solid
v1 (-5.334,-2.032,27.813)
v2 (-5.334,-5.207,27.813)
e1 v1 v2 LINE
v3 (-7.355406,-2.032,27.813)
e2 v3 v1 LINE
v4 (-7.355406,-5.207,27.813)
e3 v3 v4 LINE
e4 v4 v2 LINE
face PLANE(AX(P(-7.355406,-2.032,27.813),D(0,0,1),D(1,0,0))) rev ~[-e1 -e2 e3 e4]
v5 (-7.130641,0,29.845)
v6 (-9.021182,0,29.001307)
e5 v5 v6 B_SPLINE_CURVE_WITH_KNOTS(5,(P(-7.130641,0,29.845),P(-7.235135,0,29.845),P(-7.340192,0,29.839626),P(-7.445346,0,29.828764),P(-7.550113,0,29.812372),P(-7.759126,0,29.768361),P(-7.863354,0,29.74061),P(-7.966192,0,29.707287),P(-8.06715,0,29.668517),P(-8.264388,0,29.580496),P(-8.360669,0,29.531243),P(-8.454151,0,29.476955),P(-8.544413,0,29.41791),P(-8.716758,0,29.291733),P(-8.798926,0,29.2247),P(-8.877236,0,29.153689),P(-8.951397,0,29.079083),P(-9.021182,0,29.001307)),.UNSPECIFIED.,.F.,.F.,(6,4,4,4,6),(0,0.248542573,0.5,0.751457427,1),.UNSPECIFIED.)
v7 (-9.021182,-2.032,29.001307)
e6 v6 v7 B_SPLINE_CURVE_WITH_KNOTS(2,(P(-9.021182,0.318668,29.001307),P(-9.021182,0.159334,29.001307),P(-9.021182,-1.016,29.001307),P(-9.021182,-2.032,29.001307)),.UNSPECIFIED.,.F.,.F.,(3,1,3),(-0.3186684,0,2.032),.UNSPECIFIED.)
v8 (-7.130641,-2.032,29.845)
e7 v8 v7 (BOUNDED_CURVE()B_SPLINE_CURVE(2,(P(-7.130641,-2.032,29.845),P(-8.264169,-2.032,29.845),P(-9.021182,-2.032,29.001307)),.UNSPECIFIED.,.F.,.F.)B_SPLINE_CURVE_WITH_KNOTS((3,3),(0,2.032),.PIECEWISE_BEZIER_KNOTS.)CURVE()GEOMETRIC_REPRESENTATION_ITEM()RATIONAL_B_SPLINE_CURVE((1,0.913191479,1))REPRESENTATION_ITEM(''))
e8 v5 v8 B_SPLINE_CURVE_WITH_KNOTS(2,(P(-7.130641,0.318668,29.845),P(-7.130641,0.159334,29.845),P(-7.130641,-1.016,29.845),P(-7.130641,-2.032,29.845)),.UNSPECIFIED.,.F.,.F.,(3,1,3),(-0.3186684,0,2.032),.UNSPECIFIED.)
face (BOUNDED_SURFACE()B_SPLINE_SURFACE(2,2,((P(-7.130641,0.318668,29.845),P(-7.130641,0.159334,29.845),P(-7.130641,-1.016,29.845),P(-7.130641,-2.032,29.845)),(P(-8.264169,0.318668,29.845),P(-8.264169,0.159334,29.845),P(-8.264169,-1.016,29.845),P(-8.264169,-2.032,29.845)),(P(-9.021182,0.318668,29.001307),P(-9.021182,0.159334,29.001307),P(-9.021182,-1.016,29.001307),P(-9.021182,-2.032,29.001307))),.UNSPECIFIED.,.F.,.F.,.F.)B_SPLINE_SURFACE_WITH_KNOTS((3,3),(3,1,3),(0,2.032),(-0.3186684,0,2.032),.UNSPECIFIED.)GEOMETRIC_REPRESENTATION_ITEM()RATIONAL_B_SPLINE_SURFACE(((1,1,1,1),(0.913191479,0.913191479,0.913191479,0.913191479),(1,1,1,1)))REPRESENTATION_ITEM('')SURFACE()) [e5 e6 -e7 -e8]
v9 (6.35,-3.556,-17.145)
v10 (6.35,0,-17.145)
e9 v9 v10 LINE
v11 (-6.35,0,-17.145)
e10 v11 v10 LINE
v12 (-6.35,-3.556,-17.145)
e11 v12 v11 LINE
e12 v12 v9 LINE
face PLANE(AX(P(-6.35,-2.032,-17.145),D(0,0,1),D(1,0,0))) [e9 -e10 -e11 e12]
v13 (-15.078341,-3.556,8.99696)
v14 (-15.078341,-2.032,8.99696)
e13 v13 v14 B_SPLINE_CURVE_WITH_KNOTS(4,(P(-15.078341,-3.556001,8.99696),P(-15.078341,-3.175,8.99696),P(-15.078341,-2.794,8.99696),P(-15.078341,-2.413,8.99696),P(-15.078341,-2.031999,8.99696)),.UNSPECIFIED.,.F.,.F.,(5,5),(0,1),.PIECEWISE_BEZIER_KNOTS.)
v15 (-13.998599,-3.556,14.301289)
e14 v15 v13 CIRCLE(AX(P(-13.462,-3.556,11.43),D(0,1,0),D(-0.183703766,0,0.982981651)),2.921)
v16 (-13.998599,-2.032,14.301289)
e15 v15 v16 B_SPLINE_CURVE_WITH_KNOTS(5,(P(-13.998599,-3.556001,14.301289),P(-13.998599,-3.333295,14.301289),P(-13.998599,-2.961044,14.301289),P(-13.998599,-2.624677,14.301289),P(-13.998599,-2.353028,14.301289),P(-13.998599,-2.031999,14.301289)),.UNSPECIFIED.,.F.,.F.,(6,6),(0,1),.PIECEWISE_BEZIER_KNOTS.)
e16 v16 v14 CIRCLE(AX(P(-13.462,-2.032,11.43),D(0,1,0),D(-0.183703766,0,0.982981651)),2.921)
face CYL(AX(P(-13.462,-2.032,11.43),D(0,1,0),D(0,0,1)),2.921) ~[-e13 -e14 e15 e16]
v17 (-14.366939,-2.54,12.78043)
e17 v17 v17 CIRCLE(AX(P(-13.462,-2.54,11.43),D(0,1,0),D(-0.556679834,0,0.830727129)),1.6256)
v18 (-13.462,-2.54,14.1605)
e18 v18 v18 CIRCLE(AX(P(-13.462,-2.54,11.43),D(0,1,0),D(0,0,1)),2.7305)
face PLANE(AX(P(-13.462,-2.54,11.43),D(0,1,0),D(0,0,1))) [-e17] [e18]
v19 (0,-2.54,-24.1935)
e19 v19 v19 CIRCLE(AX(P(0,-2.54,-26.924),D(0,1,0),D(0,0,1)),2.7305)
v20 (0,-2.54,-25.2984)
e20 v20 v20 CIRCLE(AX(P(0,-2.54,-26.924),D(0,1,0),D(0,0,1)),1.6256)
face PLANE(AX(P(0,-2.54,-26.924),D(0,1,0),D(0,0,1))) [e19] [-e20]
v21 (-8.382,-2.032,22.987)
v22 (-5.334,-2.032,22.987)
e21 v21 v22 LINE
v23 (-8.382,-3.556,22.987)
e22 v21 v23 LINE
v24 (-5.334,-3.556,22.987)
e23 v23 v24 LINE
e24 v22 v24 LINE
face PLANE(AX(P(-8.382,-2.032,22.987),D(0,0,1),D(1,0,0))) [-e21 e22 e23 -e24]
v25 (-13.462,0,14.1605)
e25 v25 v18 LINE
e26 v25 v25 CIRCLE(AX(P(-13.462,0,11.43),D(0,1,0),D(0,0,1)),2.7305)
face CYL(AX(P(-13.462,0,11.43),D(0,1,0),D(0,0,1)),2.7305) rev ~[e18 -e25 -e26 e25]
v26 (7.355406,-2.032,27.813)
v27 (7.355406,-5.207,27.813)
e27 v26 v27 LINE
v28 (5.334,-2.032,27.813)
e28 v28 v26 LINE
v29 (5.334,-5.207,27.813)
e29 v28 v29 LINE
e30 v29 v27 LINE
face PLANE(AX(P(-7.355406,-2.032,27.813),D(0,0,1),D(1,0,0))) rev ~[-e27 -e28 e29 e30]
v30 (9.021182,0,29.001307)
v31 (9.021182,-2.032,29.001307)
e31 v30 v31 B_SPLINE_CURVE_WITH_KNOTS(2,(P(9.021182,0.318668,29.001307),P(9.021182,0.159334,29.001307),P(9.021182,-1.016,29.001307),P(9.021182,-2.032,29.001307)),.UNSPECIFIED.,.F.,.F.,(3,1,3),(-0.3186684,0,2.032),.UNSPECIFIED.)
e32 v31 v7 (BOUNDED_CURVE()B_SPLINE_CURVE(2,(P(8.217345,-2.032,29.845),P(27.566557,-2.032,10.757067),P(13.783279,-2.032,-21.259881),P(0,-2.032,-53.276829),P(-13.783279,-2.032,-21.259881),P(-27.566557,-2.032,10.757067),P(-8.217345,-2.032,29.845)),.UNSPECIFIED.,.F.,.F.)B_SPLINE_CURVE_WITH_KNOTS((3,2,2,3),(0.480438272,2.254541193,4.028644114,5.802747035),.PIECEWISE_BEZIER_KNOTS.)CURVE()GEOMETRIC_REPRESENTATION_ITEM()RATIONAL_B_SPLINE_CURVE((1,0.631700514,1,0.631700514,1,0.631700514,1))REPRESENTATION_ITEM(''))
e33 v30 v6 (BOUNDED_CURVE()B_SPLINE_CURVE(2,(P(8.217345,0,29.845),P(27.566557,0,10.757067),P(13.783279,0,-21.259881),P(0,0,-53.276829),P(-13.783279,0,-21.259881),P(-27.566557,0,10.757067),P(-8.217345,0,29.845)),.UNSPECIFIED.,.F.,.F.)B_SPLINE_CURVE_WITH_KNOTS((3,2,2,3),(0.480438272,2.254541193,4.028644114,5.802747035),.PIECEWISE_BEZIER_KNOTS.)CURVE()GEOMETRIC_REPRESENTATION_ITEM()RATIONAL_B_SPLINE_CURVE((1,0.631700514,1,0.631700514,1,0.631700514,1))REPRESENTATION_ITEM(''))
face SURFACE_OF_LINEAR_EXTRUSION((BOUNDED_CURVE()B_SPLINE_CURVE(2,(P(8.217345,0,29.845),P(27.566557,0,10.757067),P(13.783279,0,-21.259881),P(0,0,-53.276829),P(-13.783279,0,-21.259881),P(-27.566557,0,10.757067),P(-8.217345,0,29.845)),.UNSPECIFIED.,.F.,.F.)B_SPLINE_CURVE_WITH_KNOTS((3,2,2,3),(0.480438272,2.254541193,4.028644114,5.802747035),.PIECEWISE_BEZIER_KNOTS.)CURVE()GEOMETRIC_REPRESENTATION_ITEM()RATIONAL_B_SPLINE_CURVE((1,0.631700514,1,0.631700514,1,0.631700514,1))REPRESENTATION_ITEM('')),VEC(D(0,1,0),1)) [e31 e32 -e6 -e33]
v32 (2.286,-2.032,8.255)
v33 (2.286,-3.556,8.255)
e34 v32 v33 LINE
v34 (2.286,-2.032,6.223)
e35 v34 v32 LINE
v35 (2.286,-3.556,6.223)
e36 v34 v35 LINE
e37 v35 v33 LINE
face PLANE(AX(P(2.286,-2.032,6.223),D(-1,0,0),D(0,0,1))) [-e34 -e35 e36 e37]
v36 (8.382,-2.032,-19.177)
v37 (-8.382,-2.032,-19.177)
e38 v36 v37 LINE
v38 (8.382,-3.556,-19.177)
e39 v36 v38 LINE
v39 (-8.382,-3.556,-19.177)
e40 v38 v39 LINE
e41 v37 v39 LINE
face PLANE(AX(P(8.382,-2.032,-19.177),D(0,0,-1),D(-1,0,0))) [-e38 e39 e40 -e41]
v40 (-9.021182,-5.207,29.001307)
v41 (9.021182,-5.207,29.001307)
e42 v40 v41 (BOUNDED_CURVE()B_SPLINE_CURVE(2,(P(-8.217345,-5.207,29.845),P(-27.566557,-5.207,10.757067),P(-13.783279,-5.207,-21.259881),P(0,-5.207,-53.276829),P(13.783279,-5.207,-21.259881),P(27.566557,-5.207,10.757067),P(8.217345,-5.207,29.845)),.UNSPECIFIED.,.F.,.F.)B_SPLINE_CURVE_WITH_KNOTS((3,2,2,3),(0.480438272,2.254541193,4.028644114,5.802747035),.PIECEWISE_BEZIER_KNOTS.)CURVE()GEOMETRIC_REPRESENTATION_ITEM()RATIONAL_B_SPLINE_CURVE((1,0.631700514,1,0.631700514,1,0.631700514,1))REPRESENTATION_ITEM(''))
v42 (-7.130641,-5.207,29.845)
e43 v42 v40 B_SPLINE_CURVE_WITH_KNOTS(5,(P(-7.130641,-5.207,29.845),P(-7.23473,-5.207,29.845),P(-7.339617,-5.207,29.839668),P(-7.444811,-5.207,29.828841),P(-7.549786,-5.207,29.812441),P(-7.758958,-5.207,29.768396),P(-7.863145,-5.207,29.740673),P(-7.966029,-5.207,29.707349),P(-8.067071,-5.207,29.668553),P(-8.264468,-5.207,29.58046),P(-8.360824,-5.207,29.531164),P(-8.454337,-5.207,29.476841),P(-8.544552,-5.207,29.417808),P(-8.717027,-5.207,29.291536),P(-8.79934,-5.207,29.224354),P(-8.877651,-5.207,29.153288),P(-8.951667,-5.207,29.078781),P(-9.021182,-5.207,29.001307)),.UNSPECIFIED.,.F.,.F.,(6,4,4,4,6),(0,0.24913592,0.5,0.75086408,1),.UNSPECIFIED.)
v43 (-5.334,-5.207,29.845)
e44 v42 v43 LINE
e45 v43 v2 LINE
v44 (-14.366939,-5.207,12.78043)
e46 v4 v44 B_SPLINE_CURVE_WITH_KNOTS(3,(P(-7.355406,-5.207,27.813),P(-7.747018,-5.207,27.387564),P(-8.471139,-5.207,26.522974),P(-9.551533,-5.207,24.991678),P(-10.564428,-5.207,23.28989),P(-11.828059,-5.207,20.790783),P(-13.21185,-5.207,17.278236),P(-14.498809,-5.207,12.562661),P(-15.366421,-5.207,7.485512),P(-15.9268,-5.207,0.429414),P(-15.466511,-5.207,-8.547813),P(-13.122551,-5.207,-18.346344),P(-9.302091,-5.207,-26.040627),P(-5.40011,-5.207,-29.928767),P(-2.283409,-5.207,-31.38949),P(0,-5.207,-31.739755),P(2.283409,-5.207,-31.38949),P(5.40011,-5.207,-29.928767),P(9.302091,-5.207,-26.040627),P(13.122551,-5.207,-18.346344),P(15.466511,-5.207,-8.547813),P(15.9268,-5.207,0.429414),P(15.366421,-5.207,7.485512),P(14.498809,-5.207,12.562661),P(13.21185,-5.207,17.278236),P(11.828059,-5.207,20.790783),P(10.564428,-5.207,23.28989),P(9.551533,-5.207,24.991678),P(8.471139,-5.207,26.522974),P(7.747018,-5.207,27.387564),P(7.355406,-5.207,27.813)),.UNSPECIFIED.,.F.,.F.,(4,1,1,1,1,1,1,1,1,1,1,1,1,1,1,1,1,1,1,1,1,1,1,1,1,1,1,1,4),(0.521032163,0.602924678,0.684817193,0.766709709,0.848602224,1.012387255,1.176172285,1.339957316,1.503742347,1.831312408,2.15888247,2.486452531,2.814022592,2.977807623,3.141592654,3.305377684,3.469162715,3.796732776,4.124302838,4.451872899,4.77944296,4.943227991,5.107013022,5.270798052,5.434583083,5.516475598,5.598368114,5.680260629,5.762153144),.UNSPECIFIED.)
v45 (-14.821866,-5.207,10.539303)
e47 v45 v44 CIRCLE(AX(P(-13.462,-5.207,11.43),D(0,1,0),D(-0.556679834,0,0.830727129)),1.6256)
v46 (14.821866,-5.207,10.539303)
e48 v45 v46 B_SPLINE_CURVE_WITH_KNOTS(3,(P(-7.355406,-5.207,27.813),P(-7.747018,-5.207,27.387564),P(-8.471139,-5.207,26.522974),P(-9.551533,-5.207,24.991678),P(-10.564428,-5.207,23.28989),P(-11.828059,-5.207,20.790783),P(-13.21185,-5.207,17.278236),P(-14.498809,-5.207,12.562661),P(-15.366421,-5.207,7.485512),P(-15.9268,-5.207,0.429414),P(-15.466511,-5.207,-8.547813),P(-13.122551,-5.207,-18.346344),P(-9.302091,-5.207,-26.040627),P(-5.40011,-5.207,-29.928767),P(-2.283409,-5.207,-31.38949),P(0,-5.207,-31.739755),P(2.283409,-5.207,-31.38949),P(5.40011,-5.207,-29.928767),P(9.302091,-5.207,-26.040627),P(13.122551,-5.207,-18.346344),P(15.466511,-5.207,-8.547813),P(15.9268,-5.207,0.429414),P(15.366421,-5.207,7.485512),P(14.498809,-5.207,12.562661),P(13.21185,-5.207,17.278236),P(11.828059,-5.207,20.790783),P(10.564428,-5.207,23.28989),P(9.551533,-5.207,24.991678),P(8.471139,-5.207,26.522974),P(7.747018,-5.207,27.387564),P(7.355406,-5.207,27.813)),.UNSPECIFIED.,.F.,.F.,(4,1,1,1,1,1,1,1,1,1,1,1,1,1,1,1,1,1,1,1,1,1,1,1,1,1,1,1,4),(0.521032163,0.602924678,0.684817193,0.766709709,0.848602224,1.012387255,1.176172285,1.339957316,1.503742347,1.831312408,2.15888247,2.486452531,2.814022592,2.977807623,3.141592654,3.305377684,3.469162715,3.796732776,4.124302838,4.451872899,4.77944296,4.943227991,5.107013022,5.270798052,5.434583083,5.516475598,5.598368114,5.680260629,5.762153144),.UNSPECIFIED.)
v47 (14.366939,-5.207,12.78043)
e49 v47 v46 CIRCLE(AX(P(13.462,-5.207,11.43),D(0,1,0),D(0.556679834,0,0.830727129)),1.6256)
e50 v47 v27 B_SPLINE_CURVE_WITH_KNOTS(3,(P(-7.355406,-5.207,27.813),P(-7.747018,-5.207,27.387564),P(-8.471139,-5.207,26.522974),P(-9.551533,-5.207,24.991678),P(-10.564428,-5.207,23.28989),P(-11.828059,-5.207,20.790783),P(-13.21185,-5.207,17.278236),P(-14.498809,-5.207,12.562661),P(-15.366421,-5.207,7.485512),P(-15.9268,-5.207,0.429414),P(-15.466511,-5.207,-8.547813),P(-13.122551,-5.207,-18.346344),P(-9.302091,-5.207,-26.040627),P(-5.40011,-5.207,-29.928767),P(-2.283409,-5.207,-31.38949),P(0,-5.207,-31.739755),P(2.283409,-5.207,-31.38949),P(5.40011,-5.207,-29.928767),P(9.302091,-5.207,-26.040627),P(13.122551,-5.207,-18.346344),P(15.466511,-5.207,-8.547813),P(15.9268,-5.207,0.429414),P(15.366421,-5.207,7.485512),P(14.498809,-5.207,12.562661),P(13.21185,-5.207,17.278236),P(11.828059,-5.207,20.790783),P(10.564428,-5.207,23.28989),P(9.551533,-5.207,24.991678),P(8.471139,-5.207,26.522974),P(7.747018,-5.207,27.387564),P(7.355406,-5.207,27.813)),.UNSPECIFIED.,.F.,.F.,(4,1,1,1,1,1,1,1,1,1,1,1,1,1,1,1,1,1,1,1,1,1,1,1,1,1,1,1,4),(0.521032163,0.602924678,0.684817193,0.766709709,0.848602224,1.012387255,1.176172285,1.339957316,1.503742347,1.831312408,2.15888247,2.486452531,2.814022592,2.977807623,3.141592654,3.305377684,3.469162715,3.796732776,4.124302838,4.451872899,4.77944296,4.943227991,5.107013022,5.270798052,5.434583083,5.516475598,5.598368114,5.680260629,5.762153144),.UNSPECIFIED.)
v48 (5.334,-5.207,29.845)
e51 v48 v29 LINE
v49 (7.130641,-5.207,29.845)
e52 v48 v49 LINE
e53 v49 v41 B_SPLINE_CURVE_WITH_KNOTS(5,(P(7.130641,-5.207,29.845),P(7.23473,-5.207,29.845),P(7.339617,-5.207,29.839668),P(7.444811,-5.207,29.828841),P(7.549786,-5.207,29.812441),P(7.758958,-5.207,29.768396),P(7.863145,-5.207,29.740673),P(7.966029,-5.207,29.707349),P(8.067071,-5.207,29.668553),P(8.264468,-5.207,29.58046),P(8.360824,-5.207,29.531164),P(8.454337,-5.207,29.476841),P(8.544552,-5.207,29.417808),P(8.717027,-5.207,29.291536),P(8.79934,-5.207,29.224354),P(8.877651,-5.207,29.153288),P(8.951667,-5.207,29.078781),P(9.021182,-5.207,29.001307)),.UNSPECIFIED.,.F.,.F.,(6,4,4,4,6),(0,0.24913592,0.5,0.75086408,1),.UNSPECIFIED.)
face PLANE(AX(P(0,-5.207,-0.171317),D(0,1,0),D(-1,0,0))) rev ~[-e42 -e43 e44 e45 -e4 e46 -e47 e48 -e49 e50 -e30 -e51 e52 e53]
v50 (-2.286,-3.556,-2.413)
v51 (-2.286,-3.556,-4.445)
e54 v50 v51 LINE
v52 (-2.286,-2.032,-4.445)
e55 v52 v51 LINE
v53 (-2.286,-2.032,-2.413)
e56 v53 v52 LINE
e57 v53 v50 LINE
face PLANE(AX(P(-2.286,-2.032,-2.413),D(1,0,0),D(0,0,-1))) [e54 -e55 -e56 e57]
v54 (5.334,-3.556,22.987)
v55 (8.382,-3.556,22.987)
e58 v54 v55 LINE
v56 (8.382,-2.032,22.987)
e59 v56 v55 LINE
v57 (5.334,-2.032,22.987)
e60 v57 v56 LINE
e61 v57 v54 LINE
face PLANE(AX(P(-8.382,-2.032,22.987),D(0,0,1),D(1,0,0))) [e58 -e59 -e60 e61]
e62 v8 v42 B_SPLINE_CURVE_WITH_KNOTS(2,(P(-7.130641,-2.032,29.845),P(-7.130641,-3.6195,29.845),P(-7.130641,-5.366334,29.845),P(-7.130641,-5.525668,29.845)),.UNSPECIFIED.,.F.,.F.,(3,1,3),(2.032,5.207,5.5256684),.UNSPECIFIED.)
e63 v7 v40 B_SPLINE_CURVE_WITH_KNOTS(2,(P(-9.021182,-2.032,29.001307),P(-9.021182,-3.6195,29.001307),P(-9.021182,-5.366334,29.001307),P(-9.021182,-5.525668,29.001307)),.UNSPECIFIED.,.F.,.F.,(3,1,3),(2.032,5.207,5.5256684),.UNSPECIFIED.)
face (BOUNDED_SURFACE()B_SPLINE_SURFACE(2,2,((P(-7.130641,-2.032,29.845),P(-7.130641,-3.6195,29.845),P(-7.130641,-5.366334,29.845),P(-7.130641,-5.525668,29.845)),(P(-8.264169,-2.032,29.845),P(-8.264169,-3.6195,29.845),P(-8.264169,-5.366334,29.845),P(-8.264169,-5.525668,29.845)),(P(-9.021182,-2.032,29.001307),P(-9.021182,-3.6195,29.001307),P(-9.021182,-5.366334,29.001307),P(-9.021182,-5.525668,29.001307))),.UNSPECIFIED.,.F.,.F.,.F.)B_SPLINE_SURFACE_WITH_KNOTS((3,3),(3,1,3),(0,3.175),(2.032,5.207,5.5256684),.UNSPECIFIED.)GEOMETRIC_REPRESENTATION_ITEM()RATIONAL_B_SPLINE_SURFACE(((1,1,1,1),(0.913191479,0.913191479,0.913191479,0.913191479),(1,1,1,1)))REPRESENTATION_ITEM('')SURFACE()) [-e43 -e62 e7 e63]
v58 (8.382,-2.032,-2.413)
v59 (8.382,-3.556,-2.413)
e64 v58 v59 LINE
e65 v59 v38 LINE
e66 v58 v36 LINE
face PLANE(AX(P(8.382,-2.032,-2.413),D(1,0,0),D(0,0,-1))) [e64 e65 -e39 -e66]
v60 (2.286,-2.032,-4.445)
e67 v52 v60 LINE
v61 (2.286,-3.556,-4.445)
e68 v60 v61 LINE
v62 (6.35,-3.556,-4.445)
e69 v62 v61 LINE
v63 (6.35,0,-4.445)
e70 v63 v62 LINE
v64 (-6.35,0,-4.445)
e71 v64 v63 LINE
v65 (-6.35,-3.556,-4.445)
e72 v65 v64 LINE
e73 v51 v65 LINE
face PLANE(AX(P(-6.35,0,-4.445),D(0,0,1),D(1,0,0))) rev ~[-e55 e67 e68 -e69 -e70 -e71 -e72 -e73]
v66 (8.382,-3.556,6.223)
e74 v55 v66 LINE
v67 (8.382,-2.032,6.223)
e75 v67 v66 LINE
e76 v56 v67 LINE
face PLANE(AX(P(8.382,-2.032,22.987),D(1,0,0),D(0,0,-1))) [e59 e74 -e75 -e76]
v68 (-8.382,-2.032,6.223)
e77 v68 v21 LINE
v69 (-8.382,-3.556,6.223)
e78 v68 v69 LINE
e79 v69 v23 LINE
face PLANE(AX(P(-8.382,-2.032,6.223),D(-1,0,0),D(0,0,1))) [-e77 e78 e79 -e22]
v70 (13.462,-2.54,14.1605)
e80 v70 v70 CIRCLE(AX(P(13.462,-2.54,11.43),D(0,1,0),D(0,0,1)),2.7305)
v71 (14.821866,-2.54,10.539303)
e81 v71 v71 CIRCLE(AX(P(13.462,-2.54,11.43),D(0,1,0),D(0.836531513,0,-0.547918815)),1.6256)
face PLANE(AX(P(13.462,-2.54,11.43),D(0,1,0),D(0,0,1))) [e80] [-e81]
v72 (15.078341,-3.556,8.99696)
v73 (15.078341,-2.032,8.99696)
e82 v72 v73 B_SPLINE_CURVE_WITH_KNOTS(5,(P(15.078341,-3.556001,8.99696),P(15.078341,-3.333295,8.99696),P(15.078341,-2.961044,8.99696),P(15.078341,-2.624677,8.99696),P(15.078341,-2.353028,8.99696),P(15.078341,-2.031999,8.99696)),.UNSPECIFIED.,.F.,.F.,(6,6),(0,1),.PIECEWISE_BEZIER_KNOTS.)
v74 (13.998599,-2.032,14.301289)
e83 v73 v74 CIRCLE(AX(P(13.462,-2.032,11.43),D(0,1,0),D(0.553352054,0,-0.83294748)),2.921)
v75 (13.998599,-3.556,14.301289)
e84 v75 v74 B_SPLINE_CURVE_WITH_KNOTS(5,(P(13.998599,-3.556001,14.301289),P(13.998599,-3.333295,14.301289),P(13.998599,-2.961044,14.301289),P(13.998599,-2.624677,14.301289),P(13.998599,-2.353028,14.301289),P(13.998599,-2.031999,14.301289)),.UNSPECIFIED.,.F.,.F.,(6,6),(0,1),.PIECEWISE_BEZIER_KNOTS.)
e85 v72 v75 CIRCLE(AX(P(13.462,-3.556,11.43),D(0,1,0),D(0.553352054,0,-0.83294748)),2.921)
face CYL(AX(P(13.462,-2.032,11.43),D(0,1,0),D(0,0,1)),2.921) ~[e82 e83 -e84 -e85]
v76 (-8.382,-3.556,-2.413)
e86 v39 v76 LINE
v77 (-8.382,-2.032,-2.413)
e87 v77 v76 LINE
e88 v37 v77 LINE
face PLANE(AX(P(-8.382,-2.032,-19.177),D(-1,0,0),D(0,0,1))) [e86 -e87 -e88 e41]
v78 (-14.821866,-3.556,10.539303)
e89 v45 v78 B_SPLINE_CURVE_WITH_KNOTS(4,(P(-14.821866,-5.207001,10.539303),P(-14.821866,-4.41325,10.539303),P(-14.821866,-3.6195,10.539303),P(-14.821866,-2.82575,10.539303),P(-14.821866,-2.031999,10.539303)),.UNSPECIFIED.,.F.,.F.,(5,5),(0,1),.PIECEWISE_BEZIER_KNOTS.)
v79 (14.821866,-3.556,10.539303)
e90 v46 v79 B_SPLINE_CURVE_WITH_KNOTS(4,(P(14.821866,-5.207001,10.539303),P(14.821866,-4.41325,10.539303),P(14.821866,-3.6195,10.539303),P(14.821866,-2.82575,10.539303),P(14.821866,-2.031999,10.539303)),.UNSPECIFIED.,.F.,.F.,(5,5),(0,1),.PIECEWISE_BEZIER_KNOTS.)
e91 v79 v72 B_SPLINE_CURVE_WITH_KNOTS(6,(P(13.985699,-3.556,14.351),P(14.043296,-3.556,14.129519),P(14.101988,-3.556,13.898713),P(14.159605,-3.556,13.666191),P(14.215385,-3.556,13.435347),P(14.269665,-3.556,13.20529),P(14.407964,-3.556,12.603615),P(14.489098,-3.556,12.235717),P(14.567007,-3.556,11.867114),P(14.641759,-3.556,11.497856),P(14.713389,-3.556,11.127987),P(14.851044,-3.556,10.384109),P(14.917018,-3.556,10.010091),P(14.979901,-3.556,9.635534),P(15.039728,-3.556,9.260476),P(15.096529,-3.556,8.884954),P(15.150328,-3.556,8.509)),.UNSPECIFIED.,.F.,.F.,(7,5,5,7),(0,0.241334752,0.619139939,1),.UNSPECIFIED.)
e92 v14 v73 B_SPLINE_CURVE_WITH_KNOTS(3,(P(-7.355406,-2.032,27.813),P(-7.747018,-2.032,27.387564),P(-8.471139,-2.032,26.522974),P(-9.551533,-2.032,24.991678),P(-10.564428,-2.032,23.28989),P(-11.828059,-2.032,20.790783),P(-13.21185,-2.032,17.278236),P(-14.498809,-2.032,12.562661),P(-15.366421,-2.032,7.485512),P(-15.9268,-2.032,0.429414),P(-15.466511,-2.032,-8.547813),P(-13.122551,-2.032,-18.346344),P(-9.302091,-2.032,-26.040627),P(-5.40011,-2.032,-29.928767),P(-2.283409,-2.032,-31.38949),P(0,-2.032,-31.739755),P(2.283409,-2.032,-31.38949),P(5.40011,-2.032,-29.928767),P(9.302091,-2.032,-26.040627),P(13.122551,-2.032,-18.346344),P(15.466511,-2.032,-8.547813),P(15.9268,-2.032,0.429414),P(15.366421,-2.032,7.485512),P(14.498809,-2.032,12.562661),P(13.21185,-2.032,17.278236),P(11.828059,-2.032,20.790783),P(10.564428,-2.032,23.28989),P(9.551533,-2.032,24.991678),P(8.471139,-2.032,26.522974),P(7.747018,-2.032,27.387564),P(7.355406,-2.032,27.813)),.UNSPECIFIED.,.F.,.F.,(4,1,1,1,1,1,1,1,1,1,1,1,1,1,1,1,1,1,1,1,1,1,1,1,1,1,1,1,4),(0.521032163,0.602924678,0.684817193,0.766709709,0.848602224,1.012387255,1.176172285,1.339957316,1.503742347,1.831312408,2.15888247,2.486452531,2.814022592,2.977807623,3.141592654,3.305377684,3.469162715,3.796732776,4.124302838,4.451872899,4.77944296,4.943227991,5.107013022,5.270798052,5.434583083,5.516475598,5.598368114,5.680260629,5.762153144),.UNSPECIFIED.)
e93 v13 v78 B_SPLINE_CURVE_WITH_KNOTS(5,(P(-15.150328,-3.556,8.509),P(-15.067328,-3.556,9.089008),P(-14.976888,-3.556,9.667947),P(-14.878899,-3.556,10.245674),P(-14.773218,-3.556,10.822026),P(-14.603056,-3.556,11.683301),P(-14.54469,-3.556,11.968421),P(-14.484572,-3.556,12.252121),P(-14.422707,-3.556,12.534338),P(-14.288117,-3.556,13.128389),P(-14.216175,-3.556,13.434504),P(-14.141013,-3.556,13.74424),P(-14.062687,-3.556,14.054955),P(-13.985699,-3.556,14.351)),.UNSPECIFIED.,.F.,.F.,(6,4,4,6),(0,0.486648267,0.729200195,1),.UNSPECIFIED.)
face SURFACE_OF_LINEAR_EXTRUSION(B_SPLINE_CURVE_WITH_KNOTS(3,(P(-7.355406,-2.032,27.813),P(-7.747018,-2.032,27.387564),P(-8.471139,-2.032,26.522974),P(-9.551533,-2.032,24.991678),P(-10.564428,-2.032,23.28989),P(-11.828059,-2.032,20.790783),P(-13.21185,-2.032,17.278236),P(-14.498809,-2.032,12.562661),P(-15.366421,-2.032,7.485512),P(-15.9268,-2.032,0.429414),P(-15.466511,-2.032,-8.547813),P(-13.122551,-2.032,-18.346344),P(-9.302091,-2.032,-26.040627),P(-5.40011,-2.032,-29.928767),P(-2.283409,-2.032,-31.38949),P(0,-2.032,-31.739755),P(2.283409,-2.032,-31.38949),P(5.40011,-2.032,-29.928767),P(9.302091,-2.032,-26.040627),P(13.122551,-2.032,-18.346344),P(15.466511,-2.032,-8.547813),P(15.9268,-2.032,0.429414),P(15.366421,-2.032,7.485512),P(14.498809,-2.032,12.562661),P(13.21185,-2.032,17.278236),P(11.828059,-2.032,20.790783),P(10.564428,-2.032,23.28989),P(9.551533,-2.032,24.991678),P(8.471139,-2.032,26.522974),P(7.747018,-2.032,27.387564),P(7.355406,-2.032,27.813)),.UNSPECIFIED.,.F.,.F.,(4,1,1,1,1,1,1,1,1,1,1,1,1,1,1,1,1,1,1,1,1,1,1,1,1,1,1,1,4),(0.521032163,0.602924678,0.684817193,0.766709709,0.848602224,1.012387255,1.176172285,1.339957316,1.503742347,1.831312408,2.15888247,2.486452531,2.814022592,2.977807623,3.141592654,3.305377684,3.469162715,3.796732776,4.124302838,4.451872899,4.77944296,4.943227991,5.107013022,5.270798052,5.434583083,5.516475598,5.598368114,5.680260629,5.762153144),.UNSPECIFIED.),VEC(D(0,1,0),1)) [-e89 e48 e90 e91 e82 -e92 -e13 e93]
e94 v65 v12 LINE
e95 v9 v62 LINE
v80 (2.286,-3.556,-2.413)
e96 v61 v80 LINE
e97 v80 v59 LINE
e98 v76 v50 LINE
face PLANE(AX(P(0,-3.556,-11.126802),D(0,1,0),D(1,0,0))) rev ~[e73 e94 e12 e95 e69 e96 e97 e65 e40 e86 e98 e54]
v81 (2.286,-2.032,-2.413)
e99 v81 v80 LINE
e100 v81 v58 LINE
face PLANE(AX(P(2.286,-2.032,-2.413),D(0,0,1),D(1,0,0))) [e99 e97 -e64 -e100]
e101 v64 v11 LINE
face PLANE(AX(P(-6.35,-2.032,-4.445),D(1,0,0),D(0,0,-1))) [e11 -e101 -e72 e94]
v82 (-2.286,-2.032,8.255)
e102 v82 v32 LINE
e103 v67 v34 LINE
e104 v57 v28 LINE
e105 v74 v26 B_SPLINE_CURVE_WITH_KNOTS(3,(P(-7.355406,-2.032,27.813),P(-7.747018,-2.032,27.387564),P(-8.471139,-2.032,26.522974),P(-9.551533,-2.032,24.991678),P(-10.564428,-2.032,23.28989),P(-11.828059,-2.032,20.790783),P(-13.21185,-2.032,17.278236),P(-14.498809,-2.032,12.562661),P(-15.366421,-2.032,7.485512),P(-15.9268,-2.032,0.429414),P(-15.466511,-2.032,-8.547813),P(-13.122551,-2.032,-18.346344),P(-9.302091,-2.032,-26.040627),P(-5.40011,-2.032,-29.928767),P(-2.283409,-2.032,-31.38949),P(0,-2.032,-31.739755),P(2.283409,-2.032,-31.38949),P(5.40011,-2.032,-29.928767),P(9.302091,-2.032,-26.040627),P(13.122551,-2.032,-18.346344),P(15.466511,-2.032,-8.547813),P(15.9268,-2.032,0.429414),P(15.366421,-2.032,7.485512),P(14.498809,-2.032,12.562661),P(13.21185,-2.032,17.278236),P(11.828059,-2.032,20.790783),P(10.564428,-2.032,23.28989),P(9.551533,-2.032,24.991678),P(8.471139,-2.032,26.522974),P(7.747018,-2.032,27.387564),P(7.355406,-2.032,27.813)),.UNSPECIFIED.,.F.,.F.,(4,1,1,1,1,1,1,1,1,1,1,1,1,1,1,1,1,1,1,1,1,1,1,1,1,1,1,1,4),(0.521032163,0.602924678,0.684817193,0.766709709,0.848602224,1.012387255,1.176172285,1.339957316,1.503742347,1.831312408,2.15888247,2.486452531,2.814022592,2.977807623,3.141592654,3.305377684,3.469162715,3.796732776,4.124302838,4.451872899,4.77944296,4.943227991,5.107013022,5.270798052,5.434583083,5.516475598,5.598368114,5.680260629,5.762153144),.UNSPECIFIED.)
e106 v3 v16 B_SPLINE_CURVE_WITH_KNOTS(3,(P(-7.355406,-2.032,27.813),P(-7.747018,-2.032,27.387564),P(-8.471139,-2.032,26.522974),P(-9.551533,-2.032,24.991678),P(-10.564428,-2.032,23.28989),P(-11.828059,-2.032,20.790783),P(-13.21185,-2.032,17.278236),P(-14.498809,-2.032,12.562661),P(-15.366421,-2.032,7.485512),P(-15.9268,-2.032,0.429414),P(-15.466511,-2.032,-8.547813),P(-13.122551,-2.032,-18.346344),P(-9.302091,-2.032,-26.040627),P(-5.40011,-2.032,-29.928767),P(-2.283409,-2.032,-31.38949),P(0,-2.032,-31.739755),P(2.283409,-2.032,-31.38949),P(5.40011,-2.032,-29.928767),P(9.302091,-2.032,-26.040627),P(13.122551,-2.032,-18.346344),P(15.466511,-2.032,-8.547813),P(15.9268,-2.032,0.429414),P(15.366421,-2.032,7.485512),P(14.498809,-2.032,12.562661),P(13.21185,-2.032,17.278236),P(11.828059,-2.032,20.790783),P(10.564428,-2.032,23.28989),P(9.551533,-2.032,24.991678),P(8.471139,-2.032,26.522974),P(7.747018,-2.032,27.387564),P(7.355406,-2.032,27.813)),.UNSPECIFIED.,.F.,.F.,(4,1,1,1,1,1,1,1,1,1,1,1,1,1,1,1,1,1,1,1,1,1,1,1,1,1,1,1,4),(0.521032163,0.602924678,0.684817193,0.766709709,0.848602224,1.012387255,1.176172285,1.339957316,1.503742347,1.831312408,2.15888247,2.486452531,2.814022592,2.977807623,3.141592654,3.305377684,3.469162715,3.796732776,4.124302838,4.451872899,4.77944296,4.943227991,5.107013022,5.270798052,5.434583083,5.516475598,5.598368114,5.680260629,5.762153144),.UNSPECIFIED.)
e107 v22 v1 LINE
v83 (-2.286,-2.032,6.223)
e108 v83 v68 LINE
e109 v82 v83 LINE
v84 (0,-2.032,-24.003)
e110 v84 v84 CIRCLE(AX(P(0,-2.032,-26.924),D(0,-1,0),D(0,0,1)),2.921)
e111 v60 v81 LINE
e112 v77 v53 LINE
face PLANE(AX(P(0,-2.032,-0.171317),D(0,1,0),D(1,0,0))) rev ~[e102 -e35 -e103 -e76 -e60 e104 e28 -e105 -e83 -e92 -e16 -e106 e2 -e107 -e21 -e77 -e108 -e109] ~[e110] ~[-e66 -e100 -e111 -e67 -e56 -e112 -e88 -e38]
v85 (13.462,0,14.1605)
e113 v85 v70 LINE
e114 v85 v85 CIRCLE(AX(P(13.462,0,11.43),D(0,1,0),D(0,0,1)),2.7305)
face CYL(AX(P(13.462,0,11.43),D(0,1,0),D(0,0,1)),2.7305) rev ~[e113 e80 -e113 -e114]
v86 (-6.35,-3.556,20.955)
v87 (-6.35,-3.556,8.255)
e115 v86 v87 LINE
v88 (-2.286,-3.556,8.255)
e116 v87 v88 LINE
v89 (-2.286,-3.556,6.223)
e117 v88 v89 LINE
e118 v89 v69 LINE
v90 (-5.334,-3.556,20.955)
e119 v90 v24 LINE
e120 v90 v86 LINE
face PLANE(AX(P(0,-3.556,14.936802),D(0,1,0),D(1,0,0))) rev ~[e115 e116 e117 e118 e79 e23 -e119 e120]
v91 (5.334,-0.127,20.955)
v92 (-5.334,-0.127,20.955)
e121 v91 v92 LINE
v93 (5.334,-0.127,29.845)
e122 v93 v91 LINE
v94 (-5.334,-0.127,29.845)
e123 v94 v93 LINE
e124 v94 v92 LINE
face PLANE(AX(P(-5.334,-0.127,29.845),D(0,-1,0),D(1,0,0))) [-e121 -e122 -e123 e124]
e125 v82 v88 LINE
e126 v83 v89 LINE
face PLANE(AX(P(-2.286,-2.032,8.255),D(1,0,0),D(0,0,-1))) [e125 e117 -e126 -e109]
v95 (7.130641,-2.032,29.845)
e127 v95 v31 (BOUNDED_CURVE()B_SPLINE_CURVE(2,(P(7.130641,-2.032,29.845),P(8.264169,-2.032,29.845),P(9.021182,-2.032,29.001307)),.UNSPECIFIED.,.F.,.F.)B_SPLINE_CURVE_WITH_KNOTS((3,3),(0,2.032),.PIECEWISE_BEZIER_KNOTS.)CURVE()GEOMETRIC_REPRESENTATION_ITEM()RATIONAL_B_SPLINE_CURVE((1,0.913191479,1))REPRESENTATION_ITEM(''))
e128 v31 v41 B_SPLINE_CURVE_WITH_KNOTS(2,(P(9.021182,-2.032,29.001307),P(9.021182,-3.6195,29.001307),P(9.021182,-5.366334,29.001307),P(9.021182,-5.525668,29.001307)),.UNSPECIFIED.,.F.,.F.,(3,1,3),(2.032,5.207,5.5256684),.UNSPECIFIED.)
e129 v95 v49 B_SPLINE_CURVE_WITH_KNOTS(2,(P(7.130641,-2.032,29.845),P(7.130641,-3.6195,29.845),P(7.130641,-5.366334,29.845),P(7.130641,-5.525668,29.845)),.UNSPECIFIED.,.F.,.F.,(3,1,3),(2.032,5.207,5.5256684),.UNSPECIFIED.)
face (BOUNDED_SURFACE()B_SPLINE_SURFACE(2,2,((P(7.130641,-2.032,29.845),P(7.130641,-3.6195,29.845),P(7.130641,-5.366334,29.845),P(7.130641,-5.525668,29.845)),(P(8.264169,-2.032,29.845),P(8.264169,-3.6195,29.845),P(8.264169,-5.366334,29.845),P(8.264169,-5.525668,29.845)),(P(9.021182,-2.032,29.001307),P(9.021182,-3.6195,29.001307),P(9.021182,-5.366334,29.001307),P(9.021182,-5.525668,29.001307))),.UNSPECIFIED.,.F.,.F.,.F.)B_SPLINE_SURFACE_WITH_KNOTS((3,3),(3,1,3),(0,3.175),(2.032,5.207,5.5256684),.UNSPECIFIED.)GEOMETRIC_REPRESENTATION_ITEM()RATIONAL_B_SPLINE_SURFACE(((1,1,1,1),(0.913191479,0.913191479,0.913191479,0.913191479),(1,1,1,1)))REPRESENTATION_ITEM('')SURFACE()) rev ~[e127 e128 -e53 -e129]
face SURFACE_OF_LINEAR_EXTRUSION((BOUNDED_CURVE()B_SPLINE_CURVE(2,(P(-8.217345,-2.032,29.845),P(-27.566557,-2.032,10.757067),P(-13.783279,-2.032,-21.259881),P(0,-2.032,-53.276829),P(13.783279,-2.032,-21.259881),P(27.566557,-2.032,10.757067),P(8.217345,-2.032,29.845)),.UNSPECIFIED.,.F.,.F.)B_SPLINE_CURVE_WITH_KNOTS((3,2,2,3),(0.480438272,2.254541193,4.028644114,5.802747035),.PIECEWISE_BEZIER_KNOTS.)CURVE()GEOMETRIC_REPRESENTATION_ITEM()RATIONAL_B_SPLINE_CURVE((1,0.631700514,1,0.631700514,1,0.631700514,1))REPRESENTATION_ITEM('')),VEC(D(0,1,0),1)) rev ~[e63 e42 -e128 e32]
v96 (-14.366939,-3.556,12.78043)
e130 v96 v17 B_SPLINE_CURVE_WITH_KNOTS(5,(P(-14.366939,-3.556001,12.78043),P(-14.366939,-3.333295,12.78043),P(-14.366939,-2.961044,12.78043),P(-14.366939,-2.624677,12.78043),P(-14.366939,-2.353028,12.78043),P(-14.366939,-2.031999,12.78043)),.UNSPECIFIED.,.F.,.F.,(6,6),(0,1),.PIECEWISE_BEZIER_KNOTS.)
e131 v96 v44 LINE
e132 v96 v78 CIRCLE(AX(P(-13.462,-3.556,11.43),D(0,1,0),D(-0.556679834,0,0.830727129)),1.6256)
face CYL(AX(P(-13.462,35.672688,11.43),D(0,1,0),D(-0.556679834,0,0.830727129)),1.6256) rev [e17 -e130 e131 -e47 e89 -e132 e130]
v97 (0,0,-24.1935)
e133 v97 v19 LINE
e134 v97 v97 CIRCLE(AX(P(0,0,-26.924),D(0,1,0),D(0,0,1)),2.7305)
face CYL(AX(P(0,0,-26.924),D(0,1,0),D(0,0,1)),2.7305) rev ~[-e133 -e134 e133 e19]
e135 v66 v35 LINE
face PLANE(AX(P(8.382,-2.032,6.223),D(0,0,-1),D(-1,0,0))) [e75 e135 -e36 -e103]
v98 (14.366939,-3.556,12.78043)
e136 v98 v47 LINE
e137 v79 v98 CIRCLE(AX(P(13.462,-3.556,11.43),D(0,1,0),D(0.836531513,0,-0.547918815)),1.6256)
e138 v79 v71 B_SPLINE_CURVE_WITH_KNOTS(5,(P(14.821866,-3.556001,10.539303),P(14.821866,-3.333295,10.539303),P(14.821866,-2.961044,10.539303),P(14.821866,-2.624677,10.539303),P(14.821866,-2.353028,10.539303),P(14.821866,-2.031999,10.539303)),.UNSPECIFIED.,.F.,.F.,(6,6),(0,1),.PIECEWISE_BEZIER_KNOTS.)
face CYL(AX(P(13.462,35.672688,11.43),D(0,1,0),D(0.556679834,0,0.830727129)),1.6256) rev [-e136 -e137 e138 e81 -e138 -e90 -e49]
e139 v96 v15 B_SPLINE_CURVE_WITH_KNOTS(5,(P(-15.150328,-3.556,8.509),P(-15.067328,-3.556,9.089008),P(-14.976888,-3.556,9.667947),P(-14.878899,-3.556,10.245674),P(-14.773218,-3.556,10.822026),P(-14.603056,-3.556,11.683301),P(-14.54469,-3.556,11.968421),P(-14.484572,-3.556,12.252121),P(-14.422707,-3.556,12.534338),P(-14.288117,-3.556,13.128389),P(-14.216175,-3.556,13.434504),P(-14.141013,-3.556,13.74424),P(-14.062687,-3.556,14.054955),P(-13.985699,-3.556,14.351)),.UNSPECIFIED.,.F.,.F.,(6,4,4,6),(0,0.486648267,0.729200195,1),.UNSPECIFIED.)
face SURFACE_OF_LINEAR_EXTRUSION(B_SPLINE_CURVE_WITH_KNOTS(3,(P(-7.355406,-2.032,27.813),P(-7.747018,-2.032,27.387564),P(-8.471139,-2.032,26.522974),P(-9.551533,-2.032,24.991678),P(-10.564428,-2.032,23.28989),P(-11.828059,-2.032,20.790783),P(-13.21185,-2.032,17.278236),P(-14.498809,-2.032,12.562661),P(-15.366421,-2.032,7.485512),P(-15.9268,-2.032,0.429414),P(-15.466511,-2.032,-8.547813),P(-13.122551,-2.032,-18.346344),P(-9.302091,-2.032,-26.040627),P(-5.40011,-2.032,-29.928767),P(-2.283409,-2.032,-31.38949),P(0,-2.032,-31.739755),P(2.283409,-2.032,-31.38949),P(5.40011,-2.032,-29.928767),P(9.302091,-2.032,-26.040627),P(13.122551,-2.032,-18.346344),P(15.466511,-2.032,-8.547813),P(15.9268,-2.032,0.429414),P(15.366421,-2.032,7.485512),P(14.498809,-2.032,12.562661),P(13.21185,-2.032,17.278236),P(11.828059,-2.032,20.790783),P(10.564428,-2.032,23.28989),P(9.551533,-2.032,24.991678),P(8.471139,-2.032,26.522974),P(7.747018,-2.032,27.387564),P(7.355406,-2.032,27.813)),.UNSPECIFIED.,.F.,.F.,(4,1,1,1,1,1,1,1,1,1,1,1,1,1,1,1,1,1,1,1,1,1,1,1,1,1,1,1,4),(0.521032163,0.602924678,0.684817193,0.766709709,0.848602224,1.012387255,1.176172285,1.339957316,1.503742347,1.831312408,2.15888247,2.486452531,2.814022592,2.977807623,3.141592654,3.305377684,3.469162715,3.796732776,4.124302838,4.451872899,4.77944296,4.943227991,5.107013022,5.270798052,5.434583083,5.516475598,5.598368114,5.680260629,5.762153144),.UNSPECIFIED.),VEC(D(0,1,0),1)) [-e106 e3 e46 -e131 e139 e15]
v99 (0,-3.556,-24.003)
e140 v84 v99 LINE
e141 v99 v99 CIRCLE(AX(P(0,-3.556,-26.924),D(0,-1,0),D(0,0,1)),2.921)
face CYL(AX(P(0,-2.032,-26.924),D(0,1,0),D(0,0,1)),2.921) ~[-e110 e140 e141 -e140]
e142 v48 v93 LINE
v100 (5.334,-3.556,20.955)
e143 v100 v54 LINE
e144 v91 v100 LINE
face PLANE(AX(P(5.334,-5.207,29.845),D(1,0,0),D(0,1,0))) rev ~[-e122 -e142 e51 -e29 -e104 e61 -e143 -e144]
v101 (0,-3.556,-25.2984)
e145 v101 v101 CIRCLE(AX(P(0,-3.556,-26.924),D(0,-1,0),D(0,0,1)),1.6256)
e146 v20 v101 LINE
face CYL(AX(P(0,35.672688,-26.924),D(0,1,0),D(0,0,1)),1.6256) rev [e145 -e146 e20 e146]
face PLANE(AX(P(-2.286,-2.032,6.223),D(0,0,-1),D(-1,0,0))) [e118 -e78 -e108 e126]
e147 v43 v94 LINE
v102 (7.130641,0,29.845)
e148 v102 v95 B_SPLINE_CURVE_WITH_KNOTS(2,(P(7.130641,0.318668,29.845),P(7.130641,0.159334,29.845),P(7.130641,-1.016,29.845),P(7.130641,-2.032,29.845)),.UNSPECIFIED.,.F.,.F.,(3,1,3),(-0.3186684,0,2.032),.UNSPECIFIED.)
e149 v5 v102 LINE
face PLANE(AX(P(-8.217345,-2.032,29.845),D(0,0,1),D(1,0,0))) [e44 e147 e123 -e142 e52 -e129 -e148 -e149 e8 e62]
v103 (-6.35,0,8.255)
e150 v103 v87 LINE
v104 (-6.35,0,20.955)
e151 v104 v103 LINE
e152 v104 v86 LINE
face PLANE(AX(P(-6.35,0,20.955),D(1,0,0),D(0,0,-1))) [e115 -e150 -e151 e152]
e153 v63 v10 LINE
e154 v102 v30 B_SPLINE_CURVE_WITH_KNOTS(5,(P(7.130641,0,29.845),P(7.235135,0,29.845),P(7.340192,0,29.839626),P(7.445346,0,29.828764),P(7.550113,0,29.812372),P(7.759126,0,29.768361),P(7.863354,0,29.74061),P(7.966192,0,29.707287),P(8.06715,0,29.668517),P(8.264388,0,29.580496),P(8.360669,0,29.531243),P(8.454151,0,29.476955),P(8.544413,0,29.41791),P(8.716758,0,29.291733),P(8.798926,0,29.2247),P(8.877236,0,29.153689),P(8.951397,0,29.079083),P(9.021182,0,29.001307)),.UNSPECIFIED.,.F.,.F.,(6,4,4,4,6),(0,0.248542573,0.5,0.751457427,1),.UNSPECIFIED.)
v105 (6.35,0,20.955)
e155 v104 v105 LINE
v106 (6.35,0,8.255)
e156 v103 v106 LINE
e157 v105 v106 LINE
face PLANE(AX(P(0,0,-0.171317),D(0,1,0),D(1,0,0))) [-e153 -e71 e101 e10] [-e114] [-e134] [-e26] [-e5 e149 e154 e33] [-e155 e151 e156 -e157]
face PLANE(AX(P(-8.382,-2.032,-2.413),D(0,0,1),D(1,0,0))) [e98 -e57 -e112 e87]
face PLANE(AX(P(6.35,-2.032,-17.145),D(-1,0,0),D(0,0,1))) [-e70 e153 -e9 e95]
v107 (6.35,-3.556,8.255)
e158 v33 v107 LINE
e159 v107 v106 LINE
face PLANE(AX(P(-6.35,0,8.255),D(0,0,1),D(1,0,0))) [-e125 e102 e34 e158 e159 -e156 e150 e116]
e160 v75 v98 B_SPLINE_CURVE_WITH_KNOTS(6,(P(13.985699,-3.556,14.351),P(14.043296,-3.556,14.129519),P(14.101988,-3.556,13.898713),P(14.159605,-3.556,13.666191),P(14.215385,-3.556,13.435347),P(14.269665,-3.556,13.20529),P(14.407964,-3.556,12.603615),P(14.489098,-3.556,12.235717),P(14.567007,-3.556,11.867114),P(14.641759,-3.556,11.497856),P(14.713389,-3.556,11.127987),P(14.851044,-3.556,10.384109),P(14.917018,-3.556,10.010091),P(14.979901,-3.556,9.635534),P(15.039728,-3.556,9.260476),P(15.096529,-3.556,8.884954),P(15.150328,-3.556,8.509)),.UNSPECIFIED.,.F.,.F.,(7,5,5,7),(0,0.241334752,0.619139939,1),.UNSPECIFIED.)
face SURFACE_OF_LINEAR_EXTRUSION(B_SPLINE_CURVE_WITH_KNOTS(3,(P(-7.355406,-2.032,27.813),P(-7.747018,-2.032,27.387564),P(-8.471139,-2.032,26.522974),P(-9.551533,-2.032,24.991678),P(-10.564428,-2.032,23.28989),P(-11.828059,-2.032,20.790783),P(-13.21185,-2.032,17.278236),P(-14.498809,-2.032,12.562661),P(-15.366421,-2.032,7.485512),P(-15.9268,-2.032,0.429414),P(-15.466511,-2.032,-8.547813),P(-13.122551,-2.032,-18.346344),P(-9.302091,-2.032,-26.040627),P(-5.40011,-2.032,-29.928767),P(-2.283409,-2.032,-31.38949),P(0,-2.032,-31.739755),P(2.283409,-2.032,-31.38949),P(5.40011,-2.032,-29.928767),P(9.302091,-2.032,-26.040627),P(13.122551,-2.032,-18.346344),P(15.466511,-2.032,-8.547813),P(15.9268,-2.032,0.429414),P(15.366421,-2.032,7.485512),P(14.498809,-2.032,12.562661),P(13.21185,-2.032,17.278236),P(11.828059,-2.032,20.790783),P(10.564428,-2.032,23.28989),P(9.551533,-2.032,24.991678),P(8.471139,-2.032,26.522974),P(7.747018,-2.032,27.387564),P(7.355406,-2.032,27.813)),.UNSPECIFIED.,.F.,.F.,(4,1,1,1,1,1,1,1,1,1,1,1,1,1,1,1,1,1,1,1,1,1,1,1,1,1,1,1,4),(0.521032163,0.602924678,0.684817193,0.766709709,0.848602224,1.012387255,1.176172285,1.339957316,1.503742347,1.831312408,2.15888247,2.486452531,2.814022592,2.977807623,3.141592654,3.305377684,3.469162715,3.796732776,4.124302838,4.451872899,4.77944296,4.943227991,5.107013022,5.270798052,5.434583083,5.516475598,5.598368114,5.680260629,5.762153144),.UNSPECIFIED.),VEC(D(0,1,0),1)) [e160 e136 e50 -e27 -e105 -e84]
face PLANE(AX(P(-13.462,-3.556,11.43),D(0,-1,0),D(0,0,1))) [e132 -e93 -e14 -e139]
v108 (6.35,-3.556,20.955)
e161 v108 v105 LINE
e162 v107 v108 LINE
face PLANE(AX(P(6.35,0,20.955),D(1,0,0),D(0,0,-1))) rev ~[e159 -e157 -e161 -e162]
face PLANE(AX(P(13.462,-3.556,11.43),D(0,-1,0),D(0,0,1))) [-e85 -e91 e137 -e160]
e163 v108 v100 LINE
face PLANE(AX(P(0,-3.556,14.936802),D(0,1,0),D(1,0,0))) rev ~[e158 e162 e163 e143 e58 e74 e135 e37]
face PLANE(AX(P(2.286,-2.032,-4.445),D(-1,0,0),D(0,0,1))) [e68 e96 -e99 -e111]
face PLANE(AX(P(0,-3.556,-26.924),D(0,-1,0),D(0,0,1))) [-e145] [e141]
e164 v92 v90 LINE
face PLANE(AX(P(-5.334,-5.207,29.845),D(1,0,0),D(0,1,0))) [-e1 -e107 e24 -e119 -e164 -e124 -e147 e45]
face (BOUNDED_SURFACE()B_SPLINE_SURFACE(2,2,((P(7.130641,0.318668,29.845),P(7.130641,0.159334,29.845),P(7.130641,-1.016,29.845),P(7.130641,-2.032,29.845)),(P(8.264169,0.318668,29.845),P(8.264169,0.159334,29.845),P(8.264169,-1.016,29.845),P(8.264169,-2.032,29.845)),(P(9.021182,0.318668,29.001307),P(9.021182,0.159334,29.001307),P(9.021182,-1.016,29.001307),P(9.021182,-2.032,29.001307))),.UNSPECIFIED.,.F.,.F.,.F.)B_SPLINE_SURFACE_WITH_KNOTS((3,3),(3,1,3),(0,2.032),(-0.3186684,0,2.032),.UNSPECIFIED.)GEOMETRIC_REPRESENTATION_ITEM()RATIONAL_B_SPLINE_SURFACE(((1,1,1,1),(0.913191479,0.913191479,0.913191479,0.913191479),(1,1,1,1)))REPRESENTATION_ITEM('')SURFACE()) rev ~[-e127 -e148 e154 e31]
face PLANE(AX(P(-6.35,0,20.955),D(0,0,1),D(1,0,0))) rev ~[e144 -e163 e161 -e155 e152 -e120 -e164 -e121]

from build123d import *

# Parameters (mm, degrees)
BOSS_EXTRUDE1_DEPTH      = 2.032
SKETCH17_W               = 12.7
SKETCH17_H               = 12.7
CUT_EXTRUDE13_DEPTH      = 39.117141284
LIGHTBOX_DEPTH           = 1.524
SKETCH19_R               = 2.921
SKETCH19_R_2             = 1.6256
BOSS_SCREWS_DEPTH        = 1.524
FLANGEOUTER_DEPTH        = 3.175
CUT_EXTRUDE16_DEPTH      = 39.228687814
CUT_EXTRUDE16_DEPTH_BACK = 39.228687814
SKETCH27_R               = 1.6256
SKETCH28_R               = 2.7305
CUT_EXTRUDE17_DEPTH      = 2.54
CUT_EXTRUDE14_REACH      = 68.147
SKETCH21_W               = 10.668
SKETCH21_H               = 5.08
FILLET1_R                = 2.54


with BuildPart() as part:
    # Sketch1 → Boss-Extrude1 (new body)
    with BuildSketch(Plane(origin=(0, 0, 0), x_dir=(1, 0, 0), z_dir=(0, 1, 0))):
        with BuildLine():
            Line((-8.217344835, -29.845), (8.217344835, -29.845))
            add(Edge.make_bspline(
                [(8.217344835, -29.845), (27.566557431, -10.757067002), (13.783278716, 21.259880795), (0, 53.276828592), (-13.783278716, 21.259880795), (-27.566557431, -10.757067002), (-8.217344835, -29.845)],
                knots=[0.480438272, 0.480438272, 0.480438272, 2.254541193, 2.254541193, 4.028644114, 4.028644114, 5.802747035, 5.802747035, 5.802747035], degree=2, weights=[1, 0.631700514, 1, 0.631700514, 1, 0.631700514, 1]))
        make_face()
    extrude(amount=-BOSS_EXTRUDE1_DEPTH)

    # Sketch17 → Cut-Extrude13 (cut, through all)
    with BuildSketch(Plane(origin=(0, 0, 0), x_dir=(1, 0, 0), z_dir=(0, 1, 0))):
        with Locations((0, 10.795)):
            Rectangle(SKETCH17_W, SKETCH17_H)
        with Locations((0, -14.605)):
            Rectangle(SKETCH17_W, SKETCH17_H)
    extrude(amount=-CUT_EXTRUDE13_DEPTH, mode=Mode.SUBTRACT)

    # Sketch18 → LightBox (add)
    with BuildSketch(Plane(origin=(0, -2.032, 0), x_dir=(1, 0, 0), z_dir=(0, 1, 0))):
        Polygon((-8.382, 19.177), (-8.382, 2.413), (-2.286, 2.413), (-2.286, 4.445), (-6.35, 4.445), (-6.35, 17.145), (6.35, 17.145), (6.35, 4.445), (2.286, 4.445), (2.286, 2.413), (8.382, 2.413), (8.382, 19.177), align=None)
        Polygon((8.382, -22.987), (8.382, -6.223), (2.286, -6.223), (2.286, -8.255), (6.35, -8.255), (6.35, -20.955), (-6.35, -20.955), (-6.35, -8.255), (-2.286, -8.255), (-2.286, -6.223), (-8.382, -6.223), (-8.382, -22.987), align=None)
    extrude(amount=-LIGHTBOX_DEPTH)

    # Sketch19 → Boss-Screws (add)
    # profile 1 of 3: a face of its own
    with BuildSketch(Plane.XZ.offset(2.032)):
        with Locations(Location((13.462, 11.43, 0), (0, 0, 90))):
            Circle(SKETCH19_R)
        with Locations(Location((13.462, 11.43, 0), (0, 0, 90))):
            Circle(SKETCH19_R_2, mode=Mode.SUBTRACT)
    # profile 2 of 3: a face of its own
    with BuildSketch(Plane.XZ.offset(2.032)):
        with Locations(Location((-13.462, 11.43, 0), (0, 0, 90))):
            Circle(SKETCH19_R)
        with Locations(Location((-13.462, 11.43, 0), (0, 0, 90))):
            Circle(SKETCH19_R_2, mode=Mode.SUBTRACT)
    # profile 3 of 3: a face of its own
    with BuildSketch(Plane.XZ.offset(2.032)):
        with Locations(Location((0, -26.924, 0), (0, 0, 90))):
            Circle(SKETCH19_R)
        with Locations(Location((0, -26.924, 0), (0, 0, 90))):
            Circle(SKETCH19_R_2, mode=Mode.SUBTRACT)
    extrude(amount=BOSS_SCREWS_DEPTH)

    # Sketch20 → FlangeOuter (add)
    with BuildSketch(Plane.XZ.offset(2.032)):
        with BuildLine():
            Line((-8.217344835, 29.845), (8.217344835, 29.845))
            add(Edge.make_bspline(
                [(-8.217344835, 29.845), (-27.566557431, 10.757067002), (-13.783278716, -21.259880795), (0, -53.276828592), (13.783278716, -21.259880795), (27.566557431, 10.757067002), (8.217344835, 29.845)],
                knots=[0.480438272, 0.480438272, 0.480438272, 2.254541193, 2.254541193, 4.028644114, 4.028644114, 5.802747035, 5.802747035, 5.802747035], degree=2, weights=[1, 0.631700514, 1, 0.631700514, 1, 0.631700514, 1]))
        make_face()
        with BuildLine():
            Line((-7.355406262, 27.813), (7.355406262, 27.813))
            add(Edge.make_bspline(
                [(-7.355406262, 27.813), (-7.747017683, 27.387563726), (-8.471138622, 26.52297401), (-9.551533082, 24.991678003), (-10.564427624, 23.28989004), (-11.82805854, 20.790783274), (-13.211850279, 17.278236172), (-14.498808643, 12.562661298), (-15.36642142, 7.485512277), (-15.926799764, 0.429414307), (-15.466510788, -8.547813121), (-13.122550811, -18.346344455), (-9.302091217, -26.040627264), (-5.400110306, -29.928766967), (-2.283409012, -31.389489953), (0, -31.739755023), (2.283409012, -31.389489953), (5.400110306, -29.928766967), (9.302091217, -26.040627264), (13.122550811, -18.346344455), (15.466510788, -8.547813121), (15.926799764, 0.429414307), (15.36642142, 7.485512277), (14.498808643, 12.562661298), (13.211850279, 17.278236172), (11.82805854, 20.790783274), (10.564427624, 23.28989004), (9.551533082, 24.991678003), (8.471138622, 26.52297401), (7.747017683, 27.387563726), (7.355406262, 27.813)],
                knots=[0.521032163, 0.521032163, 0.521032163, 0.521032163, 0.602924678, 0.684817193, 0.766709709, 0.848602224, 1.012387255, 1.176172285, 1.339957316, 1.503742347, 1.831312408, 2.15888247, 2.486452531, 2.814022592, 2.977807623, 3.141592654, 3.305377684, 3.469162715, 3.796732776, 4.124302838, 4.451872899, 4.77944296, 4.943227991, 5.107013022, 5.270798052, 5.434583083, 5.516475598, 5.598368114, 5.680260629, 5.762153144, 5.762153144, 5.762153144, 5.762153144], degree=3))
        make_face(mode=Mode.SUBTRACT)
    extrude(amount=FLANGEOUTER_DEPTH)

    # Sketch27 → Cut-Extrude16 (cut, two sides: drawn at the far end of the back side and taken through both)
    with BuildSketch(Plane.XZ.offset(3.556).offset(-CUT_EXTRUDE16_DEPTH_BACK)):
        with Locations(Location((-13.462, 11.43, 0), (0, 0, 123.826495696))):
            Circle(SKETCH27_R)
        with Locations(Location((13.462, 11.43, 0), (0, 0, 56.173504304))):
            Circle(SKETCH27_R)
        with Locations(Location((0, -26.924, 0), (0, 0, 90))):
            Circle(SKETCH27_R)
    extrude(amount=CUT_EXTRUDE16_DEPTH + CUT_EXTRUDE16_DEPTH_BACK, mode=Mode.SUBTRACT)

    # Sketch28 → Cut-Extrude17 (cut)
    with BuildSketch(Plane(origin=(0, 0, 0), x_dir=(1, 0, 0), z_dir=(0, 1, 0))):
        with Locations(Location((-13.462, -11.43, 0), (0, 0, 270))):
            Circle(SKETCH28_R)
        with Locations(Location((13.462, -11.43, 0), (0, 0, 270))):
            Circle(SKETCH28_R)
        with Locations(Location((0, 26.924, 0), (0, 0, 270))):
            Circle(SKETCH28_R)
    extrude(amount=-CUT_EXTRUDE17_DEPTH, mode=Mode.SUBTRACT)

    # Sketch21 → Cut-Extrude14 (cut, up to next)
    with BuildSketch(Plane.XY.offset(29.845), mode=Mode.PRIVATE) as cut_extrude14_sk1:
        with Locations((0, -2.667)):
            Rectangle(SKETCH21_W, SKETCH21_H)
    cut_extrude14_tool1 = extrude(cut_extrude14_sk1.sketch, amount=-CUT_EXTRUDE14_REACH, mode=Mode.PRIVATE) & part.part
    add(cut_extrude14_tool1.solids().sort_by_distance((0, -2.667, 29.845))[0], mode=Mode.SUBTRACT)

    # Fillet1
    fillet1_edges = [part.edges().sort_by_distance(p)[0] for p in [
        (8.217344835, -3.6195, 29.845),
        (-8.217344835, -3.6195, 29.845),
    ]]
    fillet(fillet1_edges, radius=FILLET1_R)


solid = part.part
